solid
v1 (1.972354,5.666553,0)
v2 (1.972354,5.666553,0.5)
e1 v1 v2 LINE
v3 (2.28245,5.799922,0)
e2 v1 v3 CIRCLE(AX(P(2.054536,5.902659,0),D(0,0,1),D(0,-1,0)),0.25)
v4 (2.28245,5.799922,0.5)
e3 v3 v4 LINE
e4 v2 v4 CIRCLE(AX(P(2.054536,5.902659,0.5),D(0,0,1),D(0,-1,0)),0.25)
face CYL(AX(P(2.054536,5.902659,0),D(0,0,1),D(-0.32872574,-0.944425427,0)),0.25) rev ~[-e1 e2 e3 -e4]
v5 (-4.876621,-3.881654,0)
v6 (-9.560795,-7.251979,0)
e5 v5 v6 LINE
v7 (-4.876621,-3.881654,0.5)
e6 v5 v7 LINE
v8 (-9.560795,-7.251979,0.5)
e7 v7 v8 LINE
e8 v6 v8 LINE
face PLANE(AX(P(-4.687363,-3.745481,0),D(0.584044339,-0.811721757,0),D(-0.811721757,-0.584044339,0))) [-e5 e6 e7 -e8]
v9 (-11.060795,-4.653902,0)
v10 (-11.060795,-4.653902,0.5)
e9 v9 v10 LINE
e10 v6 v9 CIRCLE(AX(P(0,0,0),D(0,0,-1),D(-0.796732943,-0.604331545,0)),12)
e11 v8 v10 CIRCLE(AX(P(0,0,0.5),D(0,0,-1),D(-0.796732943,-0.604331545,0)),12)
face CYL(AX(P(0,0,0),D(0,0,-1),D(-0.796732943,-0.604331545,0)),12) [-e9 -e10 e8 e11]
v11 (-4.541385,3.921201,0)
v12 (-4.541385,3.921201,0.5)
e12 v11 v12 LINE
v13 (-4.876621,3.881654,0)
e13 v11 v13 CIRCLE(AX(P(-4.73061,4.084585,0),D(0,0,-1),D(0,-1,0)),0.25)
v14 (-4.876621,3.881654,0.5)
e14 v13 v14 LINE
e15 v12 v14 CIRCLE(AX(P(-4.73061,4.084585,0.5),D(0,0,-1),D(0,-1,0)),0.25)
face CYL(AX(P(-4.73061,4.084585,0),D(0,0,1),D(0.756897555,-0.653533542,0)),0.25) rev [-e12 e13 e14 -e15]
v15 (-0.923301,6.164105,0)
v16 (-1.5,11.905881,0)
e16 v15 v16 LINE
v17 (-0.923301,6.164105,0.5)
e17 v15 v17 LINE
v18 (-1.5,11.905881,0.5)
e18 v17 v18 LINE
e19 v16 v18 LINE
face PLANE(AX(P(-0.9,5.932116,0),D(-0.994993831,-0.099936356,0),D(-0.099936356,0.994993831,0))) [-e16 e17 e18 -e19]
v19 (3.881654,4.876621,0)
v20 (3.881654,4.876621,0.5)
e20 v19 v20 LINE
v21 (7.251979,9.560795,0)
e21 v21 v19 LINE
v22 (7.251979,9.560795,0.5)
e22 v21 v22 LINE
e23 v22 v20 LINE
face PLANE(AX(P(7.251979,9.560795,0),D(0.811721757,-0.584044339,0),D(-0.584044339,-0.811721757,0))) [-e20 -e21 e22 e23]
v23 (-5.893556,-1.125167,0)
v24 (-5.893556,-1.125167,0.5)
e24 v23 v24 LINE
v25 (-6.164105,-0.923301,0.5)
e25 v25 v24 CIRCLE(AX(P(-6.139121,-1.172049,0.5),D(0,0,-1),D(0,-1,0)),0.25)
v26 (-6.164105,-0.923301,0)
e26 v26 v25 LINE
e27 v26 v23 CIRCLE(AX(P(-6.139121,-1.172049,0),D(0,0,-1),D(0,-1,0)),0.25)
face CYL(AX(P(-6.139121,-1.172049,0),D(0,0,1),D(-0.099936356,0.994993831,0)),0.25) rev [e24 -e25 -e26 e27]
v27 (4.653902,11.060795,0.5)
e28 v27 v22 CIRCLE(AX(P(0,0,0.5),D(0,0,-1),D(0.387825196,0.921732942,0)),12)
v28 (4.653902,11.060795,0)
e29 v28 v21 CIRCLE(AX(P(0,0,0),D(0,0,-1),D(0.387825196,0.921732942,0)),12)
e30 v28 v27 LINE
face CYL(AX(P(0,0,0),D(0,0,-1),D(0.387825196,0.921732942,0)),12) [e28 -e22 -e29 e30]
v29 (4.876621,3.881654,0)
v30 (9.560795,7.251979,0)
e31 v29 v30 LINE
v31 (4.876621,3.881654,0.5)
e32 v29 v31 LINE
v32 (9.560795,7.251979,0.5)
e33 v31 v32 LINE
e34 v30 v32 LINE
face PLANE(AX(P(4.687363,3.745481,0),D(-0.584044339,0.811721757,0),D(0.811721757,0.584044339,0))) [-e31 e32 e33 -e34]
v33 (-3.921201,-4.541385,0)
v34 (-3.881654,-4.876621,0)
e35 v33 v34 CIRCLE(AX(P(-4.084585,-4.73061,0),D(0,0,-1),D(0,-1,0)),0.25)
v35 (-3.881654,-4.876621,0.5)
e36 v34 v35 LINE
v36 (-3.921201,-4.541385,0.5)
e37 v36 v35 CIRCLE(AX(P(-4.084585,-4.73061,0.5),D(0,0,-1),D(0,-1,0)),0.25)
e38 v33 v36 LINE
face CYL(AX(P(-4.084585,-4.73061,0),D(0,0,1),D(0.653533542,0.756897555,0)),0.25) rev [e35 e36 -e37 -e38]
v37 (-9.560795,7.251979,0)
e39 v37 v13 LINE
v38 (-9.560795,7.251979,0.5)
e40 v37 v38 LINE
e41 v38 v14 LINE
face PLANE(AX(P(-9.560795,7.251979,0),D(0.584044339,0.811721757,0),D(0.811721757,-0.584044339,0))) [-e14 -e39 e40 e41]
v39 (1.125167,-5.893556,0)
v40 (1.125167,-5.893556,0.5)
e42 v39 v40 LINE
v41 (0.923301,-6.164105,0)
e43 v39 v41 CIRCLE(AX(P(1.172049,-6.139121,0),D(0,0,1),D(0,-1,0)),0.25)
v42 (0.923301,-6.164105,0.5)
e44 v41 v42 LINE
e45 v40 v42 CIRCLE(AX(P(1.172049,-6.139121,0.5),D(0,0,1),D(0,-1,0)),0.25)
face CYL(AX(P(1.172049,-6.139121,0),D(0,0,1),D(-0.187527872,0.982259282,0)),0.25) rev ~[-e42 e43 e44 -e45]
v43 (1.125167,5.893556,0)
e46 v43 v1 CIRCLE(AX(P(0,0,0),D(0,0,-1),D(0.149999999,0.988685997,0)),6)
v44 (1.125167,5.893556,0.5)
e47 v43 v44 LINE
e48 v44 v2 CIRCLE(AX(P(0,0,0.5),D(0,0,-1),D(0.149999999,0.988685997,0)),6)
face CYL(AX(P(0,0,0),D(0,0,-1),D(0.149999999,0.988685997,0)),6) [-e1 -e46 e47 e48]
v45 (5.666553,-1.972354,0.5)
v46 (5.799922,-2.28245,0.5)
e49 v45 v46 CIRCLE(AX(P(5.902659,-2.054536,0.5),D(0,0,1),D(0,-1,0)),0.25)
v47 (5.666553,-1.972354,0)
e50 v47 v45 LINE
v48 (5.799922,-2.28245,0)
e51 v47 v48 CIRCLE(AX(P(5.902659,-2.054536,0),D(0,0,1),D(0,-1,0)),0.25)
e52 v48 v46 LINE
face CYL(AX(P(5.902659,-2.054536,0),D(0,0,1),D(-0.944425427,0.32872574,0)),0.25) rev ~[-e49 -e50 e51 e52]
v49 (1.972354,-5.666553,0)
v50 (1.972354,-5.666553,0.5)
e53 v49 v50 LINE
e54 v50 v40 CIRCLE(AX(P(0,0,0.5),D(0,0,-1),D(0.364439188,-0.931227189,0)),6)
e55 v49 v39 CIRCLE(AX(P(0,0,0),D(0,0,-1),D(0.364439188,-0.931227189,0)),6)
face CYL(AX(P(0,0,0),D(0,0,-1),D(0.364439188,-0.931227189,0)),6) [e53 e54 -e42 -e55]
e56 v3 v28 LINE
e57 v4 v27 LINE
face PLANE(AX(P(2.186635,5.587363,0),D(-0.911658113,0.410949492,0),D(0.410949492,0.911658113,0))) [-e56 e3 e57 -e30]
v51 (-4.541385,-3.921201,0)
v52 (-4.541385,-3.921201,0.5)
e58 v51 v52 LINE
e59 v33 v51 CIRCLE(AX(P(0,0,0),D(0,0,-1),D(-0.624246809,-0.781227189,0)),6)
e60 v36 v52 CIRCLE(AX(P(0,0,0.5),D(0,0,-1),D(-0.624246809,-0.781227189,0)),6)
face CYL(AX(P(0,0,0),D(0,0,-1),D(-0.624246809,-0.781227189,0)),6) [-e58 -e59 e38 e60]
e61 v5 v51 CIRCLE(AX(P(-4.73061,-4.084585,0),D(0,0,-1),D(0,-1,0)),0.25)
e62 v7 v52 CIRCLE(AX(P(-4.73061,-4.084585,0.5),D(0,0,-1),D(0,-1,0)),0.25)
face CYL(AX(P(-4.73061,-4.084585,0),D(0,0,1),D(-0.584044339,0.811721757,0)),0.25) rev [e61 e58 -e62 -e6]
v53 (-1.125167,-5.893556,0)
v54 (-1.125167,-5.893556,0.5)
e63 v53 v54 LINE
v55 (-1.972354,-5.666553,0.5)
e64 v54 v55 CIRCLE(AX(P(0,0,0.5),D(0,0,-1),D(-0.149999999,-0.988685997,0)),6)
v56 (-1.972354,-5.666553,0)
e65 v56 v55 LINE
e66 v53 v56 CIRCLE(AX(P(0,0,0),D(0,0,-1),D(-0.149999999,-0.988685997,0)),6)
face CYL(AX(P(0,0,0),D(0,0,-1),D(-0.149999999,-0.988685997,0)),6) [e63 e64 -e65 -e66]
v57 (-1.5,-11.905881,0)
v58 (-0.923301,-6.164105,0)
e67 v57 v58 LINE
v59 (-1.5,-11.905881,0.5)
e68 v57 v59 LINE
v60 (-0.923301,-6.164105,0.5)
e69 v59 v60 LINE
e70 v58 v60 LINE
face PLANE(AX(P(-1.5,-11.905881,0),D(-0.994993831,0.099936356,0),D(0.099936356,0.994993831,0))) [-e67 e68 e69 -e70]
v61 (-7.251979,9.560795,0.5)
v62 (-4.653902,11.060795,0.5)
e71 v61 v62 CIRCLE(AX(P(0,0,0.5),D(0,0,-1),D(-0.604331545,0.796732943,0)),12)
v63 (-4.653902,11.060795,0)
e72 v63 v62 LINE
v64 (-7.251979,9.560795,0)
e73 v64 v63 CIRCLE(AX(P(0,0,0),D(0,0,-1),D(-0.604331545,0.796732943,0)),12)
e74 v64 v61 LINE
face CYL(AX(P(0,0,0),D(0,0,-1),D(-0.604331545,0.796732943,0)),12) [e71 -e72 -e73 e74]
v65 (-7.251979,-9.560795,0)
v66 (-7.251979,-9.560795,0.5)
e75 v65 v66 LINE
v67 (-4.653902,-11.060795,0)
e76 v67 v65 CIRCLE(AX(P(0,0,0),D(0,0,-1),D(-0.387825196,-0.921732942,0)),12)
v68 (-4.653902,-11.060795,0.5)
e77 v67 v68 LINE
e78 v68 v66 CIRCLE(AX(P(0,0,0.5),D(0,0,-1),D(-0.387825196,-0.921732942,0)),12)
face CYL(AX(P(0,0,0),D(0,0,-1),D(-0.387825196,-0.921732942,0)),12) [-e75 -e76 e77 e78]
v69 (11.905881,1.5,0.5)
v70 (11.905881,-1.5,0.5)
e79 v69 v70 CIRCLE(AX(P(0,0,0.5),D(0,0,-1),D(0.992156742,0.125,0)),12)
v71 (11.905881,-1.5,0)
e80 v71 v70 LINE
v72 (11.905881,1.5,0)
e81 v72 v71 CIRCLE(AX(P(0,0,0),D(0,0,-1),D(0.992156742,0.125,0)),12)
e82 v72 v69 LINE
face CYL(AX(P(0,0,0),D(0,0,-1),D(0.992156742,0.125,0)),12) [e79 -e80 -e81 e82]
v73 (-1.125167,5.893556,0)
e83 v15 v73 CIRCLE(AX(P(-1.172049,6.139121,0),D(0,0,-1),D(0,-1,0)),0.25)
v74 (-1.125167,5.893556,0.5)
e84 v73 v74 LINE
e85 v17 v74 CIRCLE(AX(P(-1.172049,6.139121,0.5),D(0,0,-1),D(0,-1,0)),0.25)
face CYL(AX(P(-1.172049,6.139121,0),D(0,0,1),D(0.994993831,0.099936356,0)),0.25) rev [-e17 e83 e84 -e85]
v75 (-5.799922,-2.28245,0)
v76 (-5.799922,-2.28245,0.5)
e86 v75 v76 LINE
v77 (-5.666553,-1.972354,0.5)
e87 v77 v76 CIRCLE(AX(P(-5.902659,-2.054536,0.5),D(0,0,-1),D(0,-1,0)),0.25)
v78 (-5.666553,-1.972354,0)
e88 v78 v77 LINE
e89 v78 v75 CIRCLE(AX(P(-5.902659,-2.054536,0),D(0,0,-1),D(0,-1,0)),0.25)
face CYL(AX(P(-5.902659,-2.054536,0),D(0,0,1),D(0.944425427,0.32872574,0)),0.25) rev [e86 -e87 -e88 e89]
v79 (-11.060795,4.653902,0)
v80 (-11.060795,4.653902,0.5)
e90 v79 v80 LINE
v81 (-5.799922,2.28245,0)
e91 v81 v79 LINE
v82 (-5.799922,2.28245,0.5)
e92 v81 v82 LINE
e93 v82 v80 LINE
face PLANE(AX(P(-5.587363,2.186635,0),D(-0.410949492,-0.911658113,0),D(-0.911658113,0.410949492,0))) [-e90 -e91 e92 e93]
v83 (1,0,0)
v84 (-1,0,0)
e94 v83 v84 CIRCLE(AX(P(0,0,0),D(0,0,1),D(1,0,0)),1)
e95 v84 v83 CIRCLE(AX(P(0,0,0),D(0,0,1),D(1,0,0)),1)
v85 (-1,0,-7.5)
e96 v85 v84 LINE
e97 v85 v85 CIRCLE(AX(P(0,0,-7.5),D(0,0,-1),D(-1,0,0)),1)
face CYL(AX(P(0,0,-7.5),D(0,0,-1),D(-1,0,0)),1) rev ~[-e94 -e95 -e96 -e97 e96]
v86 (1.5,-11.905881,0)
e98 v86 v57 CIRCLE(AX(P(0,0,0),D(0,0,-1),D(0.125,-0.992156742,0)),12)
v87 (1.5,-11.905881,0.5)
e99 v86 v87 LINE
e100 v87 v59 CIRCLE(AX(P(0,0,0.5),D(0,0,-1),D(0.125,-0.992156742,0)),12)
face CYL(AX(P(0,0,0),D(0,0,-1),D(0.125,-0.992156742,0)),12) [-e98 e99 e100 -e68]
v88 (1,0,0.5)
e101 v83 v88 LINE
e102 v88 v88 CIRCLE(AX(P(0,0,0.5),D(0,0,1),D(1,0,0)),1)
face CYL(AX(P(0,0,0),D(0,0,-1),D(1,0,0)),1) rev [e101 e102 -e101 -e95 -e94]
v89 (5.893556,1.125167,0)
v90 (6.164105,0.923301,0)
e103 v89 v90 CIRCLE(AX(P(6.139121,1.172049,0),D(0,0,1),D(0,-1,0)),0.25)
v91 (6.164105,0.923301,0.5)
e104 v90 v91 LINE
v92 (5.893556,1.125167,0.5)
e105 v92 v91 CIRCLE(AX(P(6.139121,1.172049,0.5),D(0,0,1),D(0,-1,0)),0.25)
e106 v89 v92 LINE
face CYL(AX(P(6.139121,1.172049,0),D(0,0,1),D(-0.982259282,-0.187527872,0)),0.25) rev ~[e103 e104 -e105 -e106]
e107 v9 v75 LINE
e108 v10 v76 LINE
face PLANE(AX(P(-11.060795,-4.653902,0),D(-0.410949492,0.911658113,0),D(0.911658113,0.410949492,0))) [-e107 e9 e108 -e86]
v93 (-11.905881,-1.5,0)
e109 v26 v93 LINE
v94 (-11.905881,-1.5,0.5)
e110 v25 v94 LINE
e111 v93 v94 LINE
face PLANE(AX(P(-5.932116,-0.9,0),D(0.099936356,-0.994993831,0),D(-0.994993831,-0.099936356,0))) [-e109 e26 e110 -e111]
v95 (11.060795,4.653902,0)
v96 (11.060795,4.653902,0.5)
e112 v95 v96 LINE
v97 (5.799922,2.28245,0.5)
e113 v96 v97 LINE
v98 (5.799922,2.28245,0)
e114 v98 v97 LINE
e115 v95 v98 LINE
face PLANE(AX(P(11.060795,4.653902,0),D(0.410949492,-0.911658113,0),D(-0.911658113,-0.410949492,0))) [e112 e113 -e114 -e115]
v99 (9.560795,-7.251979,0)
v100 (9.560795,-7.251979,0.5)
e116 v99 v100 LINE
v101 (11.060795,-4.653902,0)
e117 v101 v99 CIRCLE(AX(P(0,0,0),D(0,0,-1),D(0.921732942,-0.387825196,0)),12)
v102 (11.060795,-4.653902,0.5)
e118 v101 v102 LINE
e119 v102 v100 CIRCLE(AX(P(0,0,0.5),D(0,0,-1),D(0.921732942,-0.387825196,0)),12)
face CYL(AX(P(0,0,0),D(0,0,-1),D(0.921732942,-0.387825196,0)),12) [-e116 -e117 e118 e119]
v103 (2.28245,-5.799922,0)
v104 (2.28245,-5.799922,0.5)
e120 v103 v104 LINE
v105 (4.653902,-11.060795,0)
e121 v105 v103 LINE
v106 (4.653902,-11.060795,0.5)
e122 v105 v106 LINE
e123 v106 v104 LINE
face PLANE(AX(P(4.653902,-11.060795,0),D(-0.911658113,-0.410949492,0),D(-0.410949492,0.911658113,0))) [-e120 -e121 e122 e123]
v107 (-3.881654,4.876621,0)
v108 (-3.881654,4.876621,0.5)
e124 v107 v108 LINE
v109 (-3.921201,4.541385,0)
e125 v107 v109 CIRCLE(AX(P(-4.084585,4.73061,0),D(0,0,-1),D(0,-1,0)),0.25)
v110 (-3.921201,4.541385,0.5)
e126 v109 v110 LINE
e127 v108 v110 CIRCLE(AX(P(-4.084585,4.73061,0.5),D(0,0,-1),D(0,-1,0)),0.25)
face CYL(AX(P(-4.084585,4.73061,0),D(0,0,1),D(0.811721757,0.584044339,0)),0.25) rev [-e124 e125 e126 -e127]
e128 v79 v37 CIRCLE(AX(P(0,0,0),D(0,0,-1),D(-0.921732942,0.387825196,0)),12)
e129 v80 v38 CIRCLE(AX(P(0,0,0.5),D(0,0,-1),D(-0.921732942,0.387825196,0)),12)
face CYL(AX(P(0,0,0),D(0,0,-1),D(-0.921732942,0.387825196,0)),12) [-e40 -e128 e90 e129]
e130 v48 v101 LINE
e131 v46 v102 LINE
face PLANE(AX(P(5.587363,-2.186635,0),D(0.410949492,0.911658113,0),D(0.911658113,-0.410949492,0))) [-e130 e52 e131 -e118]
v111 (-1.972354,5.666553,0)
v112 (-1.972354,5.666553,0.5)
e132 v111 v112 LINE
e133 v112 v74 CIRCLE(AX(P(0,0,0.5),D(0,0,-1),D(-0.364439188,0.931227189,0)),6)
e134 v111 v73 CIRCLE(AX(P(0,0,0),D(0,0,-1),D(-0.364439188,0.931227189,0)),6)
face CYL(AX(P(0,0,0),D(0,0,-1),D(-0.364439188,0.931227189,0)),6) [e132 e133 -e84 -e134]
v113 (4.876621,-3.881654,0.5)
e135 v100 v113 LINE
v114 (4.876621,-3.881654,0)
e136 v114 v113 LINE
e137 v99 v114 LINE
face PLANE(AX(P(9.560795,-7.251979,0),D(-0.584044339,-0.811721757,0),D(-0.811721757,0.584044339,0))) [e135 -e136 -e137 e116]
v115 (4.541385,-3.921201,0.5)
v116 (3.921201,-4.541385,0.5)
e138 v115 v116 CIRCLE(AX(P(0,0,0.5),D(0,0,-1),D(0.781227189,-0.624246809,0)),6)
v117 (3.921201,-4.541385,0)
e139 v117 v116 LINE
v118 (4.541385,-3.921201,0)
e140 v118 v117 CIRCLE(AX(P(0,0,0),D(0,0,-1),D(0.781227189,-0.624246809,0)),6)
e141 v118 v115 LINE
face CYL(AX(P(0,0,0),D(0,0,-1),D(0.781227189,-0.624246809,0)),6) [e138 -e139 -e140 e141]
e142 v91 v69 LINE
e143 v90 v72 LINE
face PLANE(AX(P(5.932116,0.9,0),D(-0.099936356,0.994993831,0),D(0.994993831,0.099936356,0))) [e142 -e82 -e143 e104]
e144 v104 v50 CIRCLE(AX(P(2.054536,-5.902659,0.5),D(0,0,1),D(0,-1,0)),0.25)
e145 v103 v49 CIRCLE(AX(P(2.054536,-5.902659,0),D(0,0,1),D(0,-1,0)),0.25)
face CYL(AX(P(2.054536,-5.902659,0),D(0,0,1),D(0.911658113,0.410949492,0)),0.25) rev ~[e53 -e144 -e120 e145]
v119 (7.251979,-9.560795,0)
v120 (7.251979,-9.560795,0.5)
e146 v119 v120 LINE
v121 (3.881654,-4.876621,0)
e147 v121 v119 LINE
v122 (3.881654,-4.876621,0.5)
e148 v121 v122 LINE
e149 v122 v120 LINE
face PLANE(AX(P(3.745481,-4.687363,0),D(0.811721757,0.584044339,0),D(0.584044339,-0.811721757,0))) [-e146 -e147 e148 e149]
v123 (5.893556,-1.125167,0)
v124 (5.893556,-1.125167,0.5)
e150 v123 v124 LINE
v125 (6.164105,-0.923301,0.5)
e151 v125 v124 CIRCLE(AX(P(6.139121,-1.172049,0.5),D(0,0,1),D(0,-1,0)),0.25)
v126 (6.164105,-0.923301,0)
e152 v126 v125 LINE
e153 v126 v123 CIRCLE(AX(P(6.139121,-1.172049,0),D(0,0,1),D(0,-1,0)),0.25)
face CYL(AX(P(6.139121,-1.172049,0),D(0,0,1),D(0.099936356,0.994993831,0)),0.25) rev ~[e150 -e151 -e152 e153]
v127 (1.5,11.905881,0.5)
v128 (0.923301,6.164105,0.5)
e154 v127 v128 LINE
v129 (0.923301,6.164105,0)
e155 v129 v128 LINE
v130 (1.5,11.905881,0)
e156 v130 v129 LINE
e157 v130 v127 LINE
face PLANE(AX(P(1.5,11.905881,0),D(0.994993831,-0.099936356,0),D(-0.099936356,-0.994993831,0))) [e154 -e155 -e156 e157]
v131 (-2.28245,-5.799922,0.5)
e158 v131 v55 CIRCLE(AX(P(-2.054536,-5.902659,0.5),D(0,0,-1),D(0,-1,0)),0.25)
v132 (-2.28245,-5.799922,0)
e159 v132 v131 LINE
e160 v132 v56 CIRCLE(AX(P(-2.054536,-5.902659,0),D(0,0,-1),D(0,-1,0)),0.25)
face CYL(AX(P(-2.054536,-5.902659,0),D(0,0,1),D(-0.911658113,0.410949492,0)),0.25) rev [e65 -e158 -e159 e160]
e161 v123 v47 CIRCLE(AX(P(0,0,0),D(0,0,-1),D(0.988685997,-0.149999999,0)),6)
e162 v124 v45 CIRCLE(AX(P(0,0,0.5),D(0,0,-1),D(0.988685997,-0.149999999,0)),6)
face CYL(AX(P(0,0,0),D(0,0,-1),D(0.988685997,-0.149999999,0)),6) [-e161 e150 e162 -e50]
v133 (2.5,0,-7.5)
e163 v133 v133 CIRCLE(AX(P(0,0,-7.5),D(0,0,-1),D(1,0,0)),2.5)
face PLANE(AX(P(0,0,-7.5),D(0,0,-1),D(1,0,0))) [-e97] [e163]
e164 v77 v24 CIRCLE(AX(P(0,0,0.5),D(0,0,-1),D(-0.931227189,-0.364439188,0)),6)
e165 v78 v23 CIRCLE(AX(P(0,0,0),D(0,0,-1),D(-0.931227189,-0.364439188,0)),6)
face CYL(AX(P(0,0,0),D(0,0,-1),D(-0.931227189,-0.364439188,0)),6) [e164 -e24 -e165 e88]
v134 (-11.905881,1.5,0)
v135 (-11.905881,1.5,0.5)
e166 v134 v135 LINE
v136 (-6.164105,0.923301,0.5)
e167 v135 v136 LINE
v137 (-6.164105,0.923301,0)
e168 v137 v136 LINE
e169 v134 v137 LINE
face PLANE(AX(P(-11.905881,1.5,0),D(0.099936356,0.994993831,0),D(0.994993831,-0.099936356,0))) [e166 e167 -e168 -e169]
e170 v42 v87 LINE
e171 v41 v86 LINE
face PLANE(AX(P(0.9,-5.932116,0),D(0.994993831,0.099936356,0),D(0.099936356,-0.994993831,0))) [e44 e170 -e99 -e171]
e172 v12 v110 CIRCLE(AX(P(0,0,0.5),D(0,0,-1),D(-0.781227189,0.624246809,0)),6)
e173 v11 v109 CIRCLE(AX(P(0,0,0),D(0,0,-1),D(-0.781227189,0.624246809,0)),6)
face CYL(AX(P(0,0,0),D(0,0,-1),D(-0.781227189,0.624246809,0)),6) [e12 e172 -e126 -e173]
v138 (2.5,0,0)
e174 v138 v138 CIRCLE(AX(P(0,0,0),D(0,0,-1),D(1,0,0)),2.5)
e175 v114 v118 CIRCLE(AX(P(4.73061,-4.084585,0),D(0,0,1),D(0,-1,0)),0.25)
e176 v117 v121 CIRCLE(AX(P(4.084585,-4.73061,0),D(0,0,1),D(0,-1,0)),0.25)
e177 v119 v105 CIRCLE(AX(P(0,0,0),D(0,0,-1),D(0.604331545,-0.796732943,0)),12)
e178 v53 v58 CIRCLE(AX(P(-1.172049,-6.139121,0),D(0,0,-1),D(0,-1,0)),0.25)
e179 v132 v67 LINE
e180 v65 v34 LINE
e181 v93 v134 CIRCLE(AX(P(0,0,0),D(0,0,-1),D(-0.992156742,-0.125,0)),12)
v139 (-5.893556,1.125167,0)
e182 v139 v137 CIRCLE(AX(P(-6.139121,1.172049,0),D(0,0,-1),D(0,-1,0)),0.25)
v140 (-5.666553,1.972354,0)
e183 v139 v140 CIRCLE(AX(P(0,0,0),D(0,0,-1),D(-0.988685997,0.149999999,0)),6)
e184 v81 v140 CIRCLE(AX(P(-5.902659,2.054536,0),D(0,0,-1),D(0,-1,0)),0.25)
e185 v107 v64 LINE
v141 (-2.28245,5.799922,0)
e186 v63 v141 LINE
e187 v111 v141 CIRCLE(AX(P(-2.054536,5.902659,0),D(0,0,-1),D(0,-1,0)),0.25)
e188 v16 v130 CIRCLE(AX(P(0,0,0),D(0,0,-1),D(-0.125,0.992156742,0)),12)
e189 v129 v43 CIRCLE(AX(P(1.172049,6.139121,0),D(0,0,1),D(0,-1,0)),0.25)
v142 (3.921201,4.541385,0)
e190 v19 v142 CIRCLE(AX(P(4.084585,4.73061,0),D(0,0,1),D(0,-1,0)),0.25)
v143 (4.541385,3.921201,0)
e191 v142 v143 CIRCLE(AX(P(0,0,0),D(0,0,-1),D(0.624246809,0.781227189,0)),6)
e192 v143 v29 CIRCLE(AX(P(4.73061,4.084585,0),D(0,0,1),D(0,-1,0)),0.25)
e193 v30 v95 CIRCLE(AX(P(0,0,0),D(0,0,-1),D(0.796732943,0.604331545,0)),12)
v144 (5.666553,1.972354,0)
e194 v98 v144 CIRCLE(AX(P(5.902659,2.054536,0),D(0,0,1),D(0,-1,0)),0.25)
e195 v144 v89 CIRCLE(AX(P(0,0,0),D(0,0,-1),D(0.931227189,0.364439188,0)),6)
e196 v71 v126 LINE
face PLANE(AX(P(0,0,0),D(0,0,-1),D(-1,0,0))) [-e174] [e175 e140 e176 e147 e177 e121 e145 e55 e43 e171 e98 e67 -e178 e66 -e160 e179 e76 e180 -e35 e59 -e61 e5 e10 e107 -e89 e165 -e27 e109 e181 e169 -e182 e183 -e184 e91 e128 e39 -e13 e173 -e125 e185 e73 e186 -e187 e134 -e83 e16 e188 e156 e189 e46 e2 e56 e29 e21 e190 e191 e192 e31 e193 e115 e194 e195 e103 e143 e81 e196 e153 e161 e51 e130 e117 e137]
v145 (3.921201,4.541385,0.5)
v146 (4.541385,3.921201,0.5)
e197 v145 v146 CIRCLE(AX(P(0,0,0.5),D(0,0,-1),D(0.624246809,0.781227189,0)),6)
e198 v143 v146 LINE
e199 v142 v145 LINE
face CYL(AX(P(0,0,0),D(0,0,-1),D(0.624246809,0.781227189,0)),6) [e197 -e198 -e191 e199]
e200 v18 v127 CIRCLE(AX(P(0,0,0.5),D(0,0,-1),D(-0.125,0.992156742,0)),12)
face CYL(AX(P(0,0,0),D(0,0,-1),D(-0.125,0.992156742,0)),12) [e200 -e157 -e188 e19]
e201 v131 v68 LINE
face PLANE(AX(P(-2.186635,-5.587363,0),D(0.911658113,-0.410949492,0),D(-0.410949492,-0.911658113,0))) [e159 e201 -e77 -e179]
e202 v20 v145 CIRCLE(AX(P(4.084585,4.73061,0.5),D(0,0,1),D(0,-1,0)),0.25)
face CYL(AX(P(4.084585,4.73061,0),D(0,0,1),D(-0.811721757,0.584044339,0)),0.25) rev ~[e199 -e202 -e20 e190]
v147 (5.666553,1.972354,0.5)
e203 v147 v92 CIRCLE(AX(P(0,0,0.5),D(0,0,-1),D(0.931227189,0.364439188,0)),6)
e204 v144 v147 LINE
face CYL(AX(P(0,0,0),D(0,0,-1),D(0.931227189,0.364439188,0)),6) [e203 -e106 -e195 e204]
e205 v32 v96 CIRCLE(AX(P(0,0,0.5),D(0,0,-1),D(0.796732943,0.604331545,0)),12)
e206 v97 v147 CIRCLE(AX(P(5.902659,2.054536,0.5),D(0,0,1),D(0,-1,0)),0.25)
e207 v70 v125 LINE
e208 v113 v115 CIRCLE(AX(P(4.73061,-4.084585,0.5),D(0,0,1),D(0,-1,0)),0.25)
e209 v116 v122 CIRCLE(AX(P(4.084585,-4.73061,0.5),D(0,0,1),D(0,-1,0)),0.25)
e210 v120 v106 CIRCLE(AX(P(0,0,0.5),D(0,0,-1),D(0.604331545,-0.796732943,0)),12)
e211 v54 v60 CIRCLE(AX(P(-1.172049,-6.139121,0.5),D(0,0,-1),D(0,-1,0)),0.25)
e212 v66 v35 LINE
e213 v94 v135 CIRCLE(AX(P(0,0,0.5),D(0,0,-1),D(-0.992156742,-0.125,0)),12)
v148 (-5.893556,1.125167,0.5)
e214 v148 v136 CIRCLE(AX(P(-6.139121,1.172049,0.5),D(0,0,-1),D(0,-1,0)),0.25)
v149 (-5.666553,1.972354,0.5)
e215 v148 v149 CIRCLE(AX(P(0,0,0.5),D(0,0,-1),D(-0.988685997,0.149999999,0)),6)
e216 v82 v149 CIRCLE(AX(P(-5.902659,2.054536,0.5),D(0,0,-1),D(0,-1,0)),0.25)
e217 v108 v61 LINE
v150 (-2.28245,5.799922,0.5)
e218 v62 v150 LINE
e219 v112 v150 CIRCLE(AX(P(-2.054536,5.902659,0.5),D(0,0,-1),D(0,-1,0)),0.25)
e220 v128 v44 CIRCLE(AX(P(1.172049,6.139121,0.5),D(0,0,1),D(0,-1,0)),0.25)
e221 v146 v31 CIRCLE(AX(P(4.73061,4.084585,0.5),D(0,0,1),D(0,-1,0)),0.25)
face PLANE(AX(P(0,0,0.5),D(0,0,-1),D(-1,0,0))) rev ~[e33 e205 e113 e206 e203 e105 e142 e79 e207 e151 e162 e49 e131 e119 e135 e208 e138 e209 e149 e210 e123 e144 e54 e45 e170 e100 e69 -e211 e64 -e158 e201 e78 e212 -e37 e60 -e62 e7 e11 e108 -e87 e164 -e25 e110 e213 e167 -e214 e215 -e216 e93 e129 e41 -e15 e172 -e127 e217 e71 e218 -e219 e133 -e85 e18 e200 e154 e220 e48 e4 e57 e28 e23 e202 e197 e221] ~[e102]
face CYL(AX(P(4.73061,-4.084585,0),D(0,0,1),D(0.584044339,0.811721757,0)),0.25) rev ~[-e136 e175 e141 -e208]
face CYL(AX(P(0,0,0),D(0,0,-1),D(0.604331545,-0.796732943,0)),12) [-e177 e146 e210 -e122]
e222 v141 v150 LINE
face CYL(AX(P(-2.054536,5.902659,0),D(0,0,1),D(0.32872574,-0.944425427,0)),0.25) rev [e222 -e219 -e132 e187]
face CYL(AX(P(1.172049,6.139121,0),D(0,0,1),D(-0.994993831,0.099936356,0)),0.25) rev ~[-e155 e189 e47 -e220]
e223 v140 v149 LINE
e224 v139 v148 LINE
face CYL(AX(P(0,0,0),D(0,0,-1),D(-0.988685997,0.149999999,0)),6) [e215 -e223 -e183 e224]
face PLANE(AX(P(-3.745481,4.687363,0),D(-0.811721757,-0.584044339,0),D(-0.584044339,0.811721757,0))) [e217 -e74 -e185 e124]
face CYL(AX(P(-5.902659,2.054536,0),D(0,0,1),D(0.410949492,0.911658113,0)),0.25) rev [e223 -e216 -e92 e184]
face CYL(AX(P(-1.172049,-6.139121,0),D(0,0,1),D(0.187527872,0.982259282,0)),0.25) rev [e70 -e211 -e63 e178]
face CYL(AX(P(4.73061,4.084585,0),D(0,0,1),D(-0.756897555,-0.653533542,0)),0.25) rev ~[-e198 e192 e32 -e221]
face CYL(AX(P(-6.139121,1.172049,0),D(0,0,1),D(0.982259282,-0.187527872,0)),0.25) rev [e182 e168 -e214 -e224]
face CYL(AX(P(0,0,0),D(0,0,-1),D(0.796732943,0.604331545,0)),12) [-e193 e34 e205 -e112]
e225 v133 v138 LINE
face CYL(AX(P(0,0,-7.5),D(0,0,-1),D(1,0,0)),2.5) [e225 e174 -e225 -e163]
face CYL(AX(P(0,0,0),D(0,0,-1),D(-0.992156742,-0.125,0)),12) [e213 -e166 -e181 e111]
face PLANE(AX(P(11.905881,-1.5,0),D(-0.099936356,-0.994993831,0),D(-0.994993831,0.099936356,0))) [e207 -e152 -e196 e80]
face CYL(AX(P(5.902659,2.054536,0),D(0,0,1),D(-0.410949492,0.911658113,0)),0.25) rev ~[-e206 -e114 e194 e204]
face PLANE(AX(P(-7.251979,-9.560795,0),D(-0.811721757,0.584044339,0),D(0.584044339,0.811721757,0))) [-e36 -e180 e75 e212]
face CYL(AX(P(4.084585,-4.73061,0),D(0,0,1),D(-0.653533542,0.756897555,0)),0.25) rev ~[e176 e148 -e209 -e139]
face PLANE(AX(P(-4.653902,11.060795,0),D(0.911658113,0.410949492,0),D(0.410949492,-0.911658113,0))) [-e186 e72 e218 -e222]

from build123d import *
from build123d.topology import SkipClean

# Parameters (mm, degrees)
CROQUIS1_R              = 1
SALIENTE_EXTRUIR2_DEPTH = 0.5
REDONDEO1_R             = 0.25
SALIENTE_EXTRUIR3_START = 7.5
CROQUIS2_R              = 2.5
CROQUIS2_R_2            = 1
SALIENTE_EXTRUIR3_DEPTH = 7.5


with BuildPart() as part:
    # Croquis1 → Saliente-Extruir2 (new body)
    with BuildSketch(Plane.XY):
        with BuildLine():
            Line((-0.9, 5.93211598), (-1.5, 11.9058809))
            ThreePointArc((-1.5, 11.9058809), (0, 12), (1.5, 11.9058809))
            Line((1.5, 11.9058809), (0.9, 5.93211598))
            ThreePointArc((0.9, 5.93211598), (1.552914271, 5.795554958), (2.186635127, 5.587363137))
            Line((2.186635127, 5.587363137), (4.653902344, 11.060795314))
            ThreePointArc((4.653902344, 11.060795314), (6, 10.392304845), (7.251978556, 9.560795314))
            Line((7.251978556, 9.560795314), (3.745480853, 4.687363137))
            ThreePointArc((3.745480853, 4.687363137), (4.242640687, 4.242640687), (4.687363137, 3.745480853))
            Line((4.687363137, 3.745480853), (9.560795314, 7.251978556))
            ThreePointArc((9.560795314, 7.251978556), (10.392304845, 6), (11.060795314, 4.653902344))
            Line((11.060795314, 4.653902344), (5.587363137, 2.186635127))
            ThreePointArc((5.587363137, 2.186635127), (5.795554958, 1.552914271), (5.93211598, 0.9))
            Line((5.93211598, 0.9), (11.9058809, 1.5))
            ThreePointArc((11.9058809, 1.5), (12, 0), (11.9058809, -1.5))
            Line((11.9058809, -1.5), (5.93211598, -0.9))
            ThreePointArc((5.93211598, -0.9), (5.795554958, -1.552914271), (5.587363137, -2.186635127))
            Line((5.587363137, -2.186635127), (11.060795314, -4.653902344))
            ThreePointArc((11.060795314, -4.653902344), (10.392304845, -6), (9.560795314, -7.251978556))
            Line((9.560795314, -7.251978556), (4.687363137, -3.745480853))
            ThreePointArc((4.687363137, -3.745480853), (4.242640687, -4.242640687), (3.745480853, -4.687363137))
            Line((3.745480853, -4.687363137), (7.251978556, -9.560795314))
            ThreePointArc((7.251978556, -9.560795314), (6, -10.392304845), (4.653902344, -11.060795314))
            Line((4.653902344, -11.060795314), (2.186635127, -5.587363137))
            ThreePointArc((2.186635127, -5.587363137), (1.552914271, -5.795554958), (0.9, -5.93211598))
            Line((0.9, -5.93211598), (1.5, -11.9058809))
            ThreePointArc((1.5, -11.9058809), (0, -12), (-1.5, -11.9058809))
            Line((-1.5, -11.9058809), (-0.9, -5.93211598))
            ThreePointArc((-0.9, -5.93211598), (-1.552914271, -5.795554958), (-2.186635127, -5.587363137))
            Line((-2.186635127, -5.587363137), (-4.653902344, -11.060795314))
            ThreePointArc((-4.653902344, -11.060795314), (-6, -10.392304845), (-7.251978556, -9.560795314))
            Line((-7.251978556, -9.560795314), (-3.745480853, -4.687363137))
            ThreePointArc((-3.745480853, -4.687363137), (-4.242640687, -4.242640687), (-4.687363137, -3.745480853))
            Line((-4.687363137, -3.745480853), (-9.560795314, -7.251978556))
            ThreePointArc((-9.560795314, -7.251978556), (-10.392304845, -6), (-11.060795314, -4.653902344))
            Line((-11.060795314, -4.653902344), (-5.587363137, -2.186635127))
            ThreePointArc((-5.587363137, -2.186635127), (-5.795554958, -1.552914271), (-5.93211598, -0.9))
            Line((-5.93211598, -0.9), (-11.9058809, -1.5))
            ThreePointArc((-11.9058809, -1.5), (-12, 0), (-11.9058809, 1.5))
            Line((-11.9058809, 1.5), (-5.93211598, 0.9))
            ThreePointArc((-5.93211598, 0.9), (-5.795554958, 1.552914271), (-5.587363137, 2.186635127))
            Line((-5.587363137, 2.186635127), (-11.060795314, 4.653902344))
            ThreePointArc((-11.060795314, 4.653902344), (-10.392304845, 6), (-9.560795314, 7.251978556))
            Line((-9.560795314, 7.251978556), (-4.687363137, 3.745480853))
            ThreePointArc((-4.687363137, 3.745480853), (-4.242640687, 4.242640687), (-3.745480853, 4.687363137))
            Line((-3.745480853, 4.687363137), (-7.251978556, 9.560795314))
            ThreePointArc((-7.251978556, 9.560795314), (-6, 10.392304845), (-4.653902344, 11.060795314))
            Line((-4.653902344, 11.060795314), (-2.186635127, 5.587363137))
            ThreePointArc((-2.186635127, 5.587363137), (-1.552914271, 5.795554958), (-0.9, 5.93211598))
        make_face()
        Circle(CROQUIS1_R, mode=Mode.SUBTRACT)
    extrude(amount=SALIENTE_EXTRUIR2_DEPTH)

    # Redondeo1
    redondeo1_edges = [part.edges().sort_by_distance(p)[0] for p in [
        (-0.9, 5.93211598, 0.25),
        (0.9, 5.93211598, 0.25),
        (2.186635127, 5.587363137, 0.25),
        (3.745480853, 4.687363137, 0.25),
        (4.687363137, 3.745480853, 0.25),
        (5.587363137, 2.186635127, 0.25),
        (5.93211598, 0.9, 0.25),
        (5.93211598, -0.9, 0.25),
        (5.587363137, -2.186635127, 0.25),
        (4.687363137, -3.745480853, 0.25),
        (3.745480853, -4.687363137, 0.25),
        (2.186635127, -5.587363137, 0.25),
        (0.9, -5.93211598, 0.25),
        (-0.9, -5.93211598, 0.25),
        (-2.186635127, -5.587363137, 0.25),
        (-3.745480853, -4.687363137, 0.25),
        (-4.687363137, -3.745480853, 0.25),
        (-5.587363137, -2.186635127, 0.25),
        (-5.93211598, -0.9, 0.25),
        (-5.93211598, 0.9, 0.25),
        (-5.587363137, 2.186635127, 0.25),
        (-4.687363137, 3.745480853, 0.25),
        (-3.745480853, 4.687363137, 0.25),
        (-2.186635127, 5.587363137, 0.25),
    ]]
    fillet(redondeo1_edges, radius=REDONDEO1_R)

    # Croquis2 → Saliente-Extruir3 (add)
    with SkipClean():  # the faces are left unmerged after this step: merging them gives an invalid solid
        with BuildSketch(Plane(origin=(0, 0, 0), x_dir=(-1, 0, 0), z_dir=(0, 0, -1)).offset(SALIENTE_EXTRUIR3_START)):
            with Locations(Location((0, 0, 0), (0, 0, 180))):
                Circle(CROQUIS2_R)
            Circle(CROQUIS2_R_2, mode=Mode.SUBTRACT)
        extrude(amount=-SALIENTE_EXTRUIR3_DEPTH)


solid = part.part
